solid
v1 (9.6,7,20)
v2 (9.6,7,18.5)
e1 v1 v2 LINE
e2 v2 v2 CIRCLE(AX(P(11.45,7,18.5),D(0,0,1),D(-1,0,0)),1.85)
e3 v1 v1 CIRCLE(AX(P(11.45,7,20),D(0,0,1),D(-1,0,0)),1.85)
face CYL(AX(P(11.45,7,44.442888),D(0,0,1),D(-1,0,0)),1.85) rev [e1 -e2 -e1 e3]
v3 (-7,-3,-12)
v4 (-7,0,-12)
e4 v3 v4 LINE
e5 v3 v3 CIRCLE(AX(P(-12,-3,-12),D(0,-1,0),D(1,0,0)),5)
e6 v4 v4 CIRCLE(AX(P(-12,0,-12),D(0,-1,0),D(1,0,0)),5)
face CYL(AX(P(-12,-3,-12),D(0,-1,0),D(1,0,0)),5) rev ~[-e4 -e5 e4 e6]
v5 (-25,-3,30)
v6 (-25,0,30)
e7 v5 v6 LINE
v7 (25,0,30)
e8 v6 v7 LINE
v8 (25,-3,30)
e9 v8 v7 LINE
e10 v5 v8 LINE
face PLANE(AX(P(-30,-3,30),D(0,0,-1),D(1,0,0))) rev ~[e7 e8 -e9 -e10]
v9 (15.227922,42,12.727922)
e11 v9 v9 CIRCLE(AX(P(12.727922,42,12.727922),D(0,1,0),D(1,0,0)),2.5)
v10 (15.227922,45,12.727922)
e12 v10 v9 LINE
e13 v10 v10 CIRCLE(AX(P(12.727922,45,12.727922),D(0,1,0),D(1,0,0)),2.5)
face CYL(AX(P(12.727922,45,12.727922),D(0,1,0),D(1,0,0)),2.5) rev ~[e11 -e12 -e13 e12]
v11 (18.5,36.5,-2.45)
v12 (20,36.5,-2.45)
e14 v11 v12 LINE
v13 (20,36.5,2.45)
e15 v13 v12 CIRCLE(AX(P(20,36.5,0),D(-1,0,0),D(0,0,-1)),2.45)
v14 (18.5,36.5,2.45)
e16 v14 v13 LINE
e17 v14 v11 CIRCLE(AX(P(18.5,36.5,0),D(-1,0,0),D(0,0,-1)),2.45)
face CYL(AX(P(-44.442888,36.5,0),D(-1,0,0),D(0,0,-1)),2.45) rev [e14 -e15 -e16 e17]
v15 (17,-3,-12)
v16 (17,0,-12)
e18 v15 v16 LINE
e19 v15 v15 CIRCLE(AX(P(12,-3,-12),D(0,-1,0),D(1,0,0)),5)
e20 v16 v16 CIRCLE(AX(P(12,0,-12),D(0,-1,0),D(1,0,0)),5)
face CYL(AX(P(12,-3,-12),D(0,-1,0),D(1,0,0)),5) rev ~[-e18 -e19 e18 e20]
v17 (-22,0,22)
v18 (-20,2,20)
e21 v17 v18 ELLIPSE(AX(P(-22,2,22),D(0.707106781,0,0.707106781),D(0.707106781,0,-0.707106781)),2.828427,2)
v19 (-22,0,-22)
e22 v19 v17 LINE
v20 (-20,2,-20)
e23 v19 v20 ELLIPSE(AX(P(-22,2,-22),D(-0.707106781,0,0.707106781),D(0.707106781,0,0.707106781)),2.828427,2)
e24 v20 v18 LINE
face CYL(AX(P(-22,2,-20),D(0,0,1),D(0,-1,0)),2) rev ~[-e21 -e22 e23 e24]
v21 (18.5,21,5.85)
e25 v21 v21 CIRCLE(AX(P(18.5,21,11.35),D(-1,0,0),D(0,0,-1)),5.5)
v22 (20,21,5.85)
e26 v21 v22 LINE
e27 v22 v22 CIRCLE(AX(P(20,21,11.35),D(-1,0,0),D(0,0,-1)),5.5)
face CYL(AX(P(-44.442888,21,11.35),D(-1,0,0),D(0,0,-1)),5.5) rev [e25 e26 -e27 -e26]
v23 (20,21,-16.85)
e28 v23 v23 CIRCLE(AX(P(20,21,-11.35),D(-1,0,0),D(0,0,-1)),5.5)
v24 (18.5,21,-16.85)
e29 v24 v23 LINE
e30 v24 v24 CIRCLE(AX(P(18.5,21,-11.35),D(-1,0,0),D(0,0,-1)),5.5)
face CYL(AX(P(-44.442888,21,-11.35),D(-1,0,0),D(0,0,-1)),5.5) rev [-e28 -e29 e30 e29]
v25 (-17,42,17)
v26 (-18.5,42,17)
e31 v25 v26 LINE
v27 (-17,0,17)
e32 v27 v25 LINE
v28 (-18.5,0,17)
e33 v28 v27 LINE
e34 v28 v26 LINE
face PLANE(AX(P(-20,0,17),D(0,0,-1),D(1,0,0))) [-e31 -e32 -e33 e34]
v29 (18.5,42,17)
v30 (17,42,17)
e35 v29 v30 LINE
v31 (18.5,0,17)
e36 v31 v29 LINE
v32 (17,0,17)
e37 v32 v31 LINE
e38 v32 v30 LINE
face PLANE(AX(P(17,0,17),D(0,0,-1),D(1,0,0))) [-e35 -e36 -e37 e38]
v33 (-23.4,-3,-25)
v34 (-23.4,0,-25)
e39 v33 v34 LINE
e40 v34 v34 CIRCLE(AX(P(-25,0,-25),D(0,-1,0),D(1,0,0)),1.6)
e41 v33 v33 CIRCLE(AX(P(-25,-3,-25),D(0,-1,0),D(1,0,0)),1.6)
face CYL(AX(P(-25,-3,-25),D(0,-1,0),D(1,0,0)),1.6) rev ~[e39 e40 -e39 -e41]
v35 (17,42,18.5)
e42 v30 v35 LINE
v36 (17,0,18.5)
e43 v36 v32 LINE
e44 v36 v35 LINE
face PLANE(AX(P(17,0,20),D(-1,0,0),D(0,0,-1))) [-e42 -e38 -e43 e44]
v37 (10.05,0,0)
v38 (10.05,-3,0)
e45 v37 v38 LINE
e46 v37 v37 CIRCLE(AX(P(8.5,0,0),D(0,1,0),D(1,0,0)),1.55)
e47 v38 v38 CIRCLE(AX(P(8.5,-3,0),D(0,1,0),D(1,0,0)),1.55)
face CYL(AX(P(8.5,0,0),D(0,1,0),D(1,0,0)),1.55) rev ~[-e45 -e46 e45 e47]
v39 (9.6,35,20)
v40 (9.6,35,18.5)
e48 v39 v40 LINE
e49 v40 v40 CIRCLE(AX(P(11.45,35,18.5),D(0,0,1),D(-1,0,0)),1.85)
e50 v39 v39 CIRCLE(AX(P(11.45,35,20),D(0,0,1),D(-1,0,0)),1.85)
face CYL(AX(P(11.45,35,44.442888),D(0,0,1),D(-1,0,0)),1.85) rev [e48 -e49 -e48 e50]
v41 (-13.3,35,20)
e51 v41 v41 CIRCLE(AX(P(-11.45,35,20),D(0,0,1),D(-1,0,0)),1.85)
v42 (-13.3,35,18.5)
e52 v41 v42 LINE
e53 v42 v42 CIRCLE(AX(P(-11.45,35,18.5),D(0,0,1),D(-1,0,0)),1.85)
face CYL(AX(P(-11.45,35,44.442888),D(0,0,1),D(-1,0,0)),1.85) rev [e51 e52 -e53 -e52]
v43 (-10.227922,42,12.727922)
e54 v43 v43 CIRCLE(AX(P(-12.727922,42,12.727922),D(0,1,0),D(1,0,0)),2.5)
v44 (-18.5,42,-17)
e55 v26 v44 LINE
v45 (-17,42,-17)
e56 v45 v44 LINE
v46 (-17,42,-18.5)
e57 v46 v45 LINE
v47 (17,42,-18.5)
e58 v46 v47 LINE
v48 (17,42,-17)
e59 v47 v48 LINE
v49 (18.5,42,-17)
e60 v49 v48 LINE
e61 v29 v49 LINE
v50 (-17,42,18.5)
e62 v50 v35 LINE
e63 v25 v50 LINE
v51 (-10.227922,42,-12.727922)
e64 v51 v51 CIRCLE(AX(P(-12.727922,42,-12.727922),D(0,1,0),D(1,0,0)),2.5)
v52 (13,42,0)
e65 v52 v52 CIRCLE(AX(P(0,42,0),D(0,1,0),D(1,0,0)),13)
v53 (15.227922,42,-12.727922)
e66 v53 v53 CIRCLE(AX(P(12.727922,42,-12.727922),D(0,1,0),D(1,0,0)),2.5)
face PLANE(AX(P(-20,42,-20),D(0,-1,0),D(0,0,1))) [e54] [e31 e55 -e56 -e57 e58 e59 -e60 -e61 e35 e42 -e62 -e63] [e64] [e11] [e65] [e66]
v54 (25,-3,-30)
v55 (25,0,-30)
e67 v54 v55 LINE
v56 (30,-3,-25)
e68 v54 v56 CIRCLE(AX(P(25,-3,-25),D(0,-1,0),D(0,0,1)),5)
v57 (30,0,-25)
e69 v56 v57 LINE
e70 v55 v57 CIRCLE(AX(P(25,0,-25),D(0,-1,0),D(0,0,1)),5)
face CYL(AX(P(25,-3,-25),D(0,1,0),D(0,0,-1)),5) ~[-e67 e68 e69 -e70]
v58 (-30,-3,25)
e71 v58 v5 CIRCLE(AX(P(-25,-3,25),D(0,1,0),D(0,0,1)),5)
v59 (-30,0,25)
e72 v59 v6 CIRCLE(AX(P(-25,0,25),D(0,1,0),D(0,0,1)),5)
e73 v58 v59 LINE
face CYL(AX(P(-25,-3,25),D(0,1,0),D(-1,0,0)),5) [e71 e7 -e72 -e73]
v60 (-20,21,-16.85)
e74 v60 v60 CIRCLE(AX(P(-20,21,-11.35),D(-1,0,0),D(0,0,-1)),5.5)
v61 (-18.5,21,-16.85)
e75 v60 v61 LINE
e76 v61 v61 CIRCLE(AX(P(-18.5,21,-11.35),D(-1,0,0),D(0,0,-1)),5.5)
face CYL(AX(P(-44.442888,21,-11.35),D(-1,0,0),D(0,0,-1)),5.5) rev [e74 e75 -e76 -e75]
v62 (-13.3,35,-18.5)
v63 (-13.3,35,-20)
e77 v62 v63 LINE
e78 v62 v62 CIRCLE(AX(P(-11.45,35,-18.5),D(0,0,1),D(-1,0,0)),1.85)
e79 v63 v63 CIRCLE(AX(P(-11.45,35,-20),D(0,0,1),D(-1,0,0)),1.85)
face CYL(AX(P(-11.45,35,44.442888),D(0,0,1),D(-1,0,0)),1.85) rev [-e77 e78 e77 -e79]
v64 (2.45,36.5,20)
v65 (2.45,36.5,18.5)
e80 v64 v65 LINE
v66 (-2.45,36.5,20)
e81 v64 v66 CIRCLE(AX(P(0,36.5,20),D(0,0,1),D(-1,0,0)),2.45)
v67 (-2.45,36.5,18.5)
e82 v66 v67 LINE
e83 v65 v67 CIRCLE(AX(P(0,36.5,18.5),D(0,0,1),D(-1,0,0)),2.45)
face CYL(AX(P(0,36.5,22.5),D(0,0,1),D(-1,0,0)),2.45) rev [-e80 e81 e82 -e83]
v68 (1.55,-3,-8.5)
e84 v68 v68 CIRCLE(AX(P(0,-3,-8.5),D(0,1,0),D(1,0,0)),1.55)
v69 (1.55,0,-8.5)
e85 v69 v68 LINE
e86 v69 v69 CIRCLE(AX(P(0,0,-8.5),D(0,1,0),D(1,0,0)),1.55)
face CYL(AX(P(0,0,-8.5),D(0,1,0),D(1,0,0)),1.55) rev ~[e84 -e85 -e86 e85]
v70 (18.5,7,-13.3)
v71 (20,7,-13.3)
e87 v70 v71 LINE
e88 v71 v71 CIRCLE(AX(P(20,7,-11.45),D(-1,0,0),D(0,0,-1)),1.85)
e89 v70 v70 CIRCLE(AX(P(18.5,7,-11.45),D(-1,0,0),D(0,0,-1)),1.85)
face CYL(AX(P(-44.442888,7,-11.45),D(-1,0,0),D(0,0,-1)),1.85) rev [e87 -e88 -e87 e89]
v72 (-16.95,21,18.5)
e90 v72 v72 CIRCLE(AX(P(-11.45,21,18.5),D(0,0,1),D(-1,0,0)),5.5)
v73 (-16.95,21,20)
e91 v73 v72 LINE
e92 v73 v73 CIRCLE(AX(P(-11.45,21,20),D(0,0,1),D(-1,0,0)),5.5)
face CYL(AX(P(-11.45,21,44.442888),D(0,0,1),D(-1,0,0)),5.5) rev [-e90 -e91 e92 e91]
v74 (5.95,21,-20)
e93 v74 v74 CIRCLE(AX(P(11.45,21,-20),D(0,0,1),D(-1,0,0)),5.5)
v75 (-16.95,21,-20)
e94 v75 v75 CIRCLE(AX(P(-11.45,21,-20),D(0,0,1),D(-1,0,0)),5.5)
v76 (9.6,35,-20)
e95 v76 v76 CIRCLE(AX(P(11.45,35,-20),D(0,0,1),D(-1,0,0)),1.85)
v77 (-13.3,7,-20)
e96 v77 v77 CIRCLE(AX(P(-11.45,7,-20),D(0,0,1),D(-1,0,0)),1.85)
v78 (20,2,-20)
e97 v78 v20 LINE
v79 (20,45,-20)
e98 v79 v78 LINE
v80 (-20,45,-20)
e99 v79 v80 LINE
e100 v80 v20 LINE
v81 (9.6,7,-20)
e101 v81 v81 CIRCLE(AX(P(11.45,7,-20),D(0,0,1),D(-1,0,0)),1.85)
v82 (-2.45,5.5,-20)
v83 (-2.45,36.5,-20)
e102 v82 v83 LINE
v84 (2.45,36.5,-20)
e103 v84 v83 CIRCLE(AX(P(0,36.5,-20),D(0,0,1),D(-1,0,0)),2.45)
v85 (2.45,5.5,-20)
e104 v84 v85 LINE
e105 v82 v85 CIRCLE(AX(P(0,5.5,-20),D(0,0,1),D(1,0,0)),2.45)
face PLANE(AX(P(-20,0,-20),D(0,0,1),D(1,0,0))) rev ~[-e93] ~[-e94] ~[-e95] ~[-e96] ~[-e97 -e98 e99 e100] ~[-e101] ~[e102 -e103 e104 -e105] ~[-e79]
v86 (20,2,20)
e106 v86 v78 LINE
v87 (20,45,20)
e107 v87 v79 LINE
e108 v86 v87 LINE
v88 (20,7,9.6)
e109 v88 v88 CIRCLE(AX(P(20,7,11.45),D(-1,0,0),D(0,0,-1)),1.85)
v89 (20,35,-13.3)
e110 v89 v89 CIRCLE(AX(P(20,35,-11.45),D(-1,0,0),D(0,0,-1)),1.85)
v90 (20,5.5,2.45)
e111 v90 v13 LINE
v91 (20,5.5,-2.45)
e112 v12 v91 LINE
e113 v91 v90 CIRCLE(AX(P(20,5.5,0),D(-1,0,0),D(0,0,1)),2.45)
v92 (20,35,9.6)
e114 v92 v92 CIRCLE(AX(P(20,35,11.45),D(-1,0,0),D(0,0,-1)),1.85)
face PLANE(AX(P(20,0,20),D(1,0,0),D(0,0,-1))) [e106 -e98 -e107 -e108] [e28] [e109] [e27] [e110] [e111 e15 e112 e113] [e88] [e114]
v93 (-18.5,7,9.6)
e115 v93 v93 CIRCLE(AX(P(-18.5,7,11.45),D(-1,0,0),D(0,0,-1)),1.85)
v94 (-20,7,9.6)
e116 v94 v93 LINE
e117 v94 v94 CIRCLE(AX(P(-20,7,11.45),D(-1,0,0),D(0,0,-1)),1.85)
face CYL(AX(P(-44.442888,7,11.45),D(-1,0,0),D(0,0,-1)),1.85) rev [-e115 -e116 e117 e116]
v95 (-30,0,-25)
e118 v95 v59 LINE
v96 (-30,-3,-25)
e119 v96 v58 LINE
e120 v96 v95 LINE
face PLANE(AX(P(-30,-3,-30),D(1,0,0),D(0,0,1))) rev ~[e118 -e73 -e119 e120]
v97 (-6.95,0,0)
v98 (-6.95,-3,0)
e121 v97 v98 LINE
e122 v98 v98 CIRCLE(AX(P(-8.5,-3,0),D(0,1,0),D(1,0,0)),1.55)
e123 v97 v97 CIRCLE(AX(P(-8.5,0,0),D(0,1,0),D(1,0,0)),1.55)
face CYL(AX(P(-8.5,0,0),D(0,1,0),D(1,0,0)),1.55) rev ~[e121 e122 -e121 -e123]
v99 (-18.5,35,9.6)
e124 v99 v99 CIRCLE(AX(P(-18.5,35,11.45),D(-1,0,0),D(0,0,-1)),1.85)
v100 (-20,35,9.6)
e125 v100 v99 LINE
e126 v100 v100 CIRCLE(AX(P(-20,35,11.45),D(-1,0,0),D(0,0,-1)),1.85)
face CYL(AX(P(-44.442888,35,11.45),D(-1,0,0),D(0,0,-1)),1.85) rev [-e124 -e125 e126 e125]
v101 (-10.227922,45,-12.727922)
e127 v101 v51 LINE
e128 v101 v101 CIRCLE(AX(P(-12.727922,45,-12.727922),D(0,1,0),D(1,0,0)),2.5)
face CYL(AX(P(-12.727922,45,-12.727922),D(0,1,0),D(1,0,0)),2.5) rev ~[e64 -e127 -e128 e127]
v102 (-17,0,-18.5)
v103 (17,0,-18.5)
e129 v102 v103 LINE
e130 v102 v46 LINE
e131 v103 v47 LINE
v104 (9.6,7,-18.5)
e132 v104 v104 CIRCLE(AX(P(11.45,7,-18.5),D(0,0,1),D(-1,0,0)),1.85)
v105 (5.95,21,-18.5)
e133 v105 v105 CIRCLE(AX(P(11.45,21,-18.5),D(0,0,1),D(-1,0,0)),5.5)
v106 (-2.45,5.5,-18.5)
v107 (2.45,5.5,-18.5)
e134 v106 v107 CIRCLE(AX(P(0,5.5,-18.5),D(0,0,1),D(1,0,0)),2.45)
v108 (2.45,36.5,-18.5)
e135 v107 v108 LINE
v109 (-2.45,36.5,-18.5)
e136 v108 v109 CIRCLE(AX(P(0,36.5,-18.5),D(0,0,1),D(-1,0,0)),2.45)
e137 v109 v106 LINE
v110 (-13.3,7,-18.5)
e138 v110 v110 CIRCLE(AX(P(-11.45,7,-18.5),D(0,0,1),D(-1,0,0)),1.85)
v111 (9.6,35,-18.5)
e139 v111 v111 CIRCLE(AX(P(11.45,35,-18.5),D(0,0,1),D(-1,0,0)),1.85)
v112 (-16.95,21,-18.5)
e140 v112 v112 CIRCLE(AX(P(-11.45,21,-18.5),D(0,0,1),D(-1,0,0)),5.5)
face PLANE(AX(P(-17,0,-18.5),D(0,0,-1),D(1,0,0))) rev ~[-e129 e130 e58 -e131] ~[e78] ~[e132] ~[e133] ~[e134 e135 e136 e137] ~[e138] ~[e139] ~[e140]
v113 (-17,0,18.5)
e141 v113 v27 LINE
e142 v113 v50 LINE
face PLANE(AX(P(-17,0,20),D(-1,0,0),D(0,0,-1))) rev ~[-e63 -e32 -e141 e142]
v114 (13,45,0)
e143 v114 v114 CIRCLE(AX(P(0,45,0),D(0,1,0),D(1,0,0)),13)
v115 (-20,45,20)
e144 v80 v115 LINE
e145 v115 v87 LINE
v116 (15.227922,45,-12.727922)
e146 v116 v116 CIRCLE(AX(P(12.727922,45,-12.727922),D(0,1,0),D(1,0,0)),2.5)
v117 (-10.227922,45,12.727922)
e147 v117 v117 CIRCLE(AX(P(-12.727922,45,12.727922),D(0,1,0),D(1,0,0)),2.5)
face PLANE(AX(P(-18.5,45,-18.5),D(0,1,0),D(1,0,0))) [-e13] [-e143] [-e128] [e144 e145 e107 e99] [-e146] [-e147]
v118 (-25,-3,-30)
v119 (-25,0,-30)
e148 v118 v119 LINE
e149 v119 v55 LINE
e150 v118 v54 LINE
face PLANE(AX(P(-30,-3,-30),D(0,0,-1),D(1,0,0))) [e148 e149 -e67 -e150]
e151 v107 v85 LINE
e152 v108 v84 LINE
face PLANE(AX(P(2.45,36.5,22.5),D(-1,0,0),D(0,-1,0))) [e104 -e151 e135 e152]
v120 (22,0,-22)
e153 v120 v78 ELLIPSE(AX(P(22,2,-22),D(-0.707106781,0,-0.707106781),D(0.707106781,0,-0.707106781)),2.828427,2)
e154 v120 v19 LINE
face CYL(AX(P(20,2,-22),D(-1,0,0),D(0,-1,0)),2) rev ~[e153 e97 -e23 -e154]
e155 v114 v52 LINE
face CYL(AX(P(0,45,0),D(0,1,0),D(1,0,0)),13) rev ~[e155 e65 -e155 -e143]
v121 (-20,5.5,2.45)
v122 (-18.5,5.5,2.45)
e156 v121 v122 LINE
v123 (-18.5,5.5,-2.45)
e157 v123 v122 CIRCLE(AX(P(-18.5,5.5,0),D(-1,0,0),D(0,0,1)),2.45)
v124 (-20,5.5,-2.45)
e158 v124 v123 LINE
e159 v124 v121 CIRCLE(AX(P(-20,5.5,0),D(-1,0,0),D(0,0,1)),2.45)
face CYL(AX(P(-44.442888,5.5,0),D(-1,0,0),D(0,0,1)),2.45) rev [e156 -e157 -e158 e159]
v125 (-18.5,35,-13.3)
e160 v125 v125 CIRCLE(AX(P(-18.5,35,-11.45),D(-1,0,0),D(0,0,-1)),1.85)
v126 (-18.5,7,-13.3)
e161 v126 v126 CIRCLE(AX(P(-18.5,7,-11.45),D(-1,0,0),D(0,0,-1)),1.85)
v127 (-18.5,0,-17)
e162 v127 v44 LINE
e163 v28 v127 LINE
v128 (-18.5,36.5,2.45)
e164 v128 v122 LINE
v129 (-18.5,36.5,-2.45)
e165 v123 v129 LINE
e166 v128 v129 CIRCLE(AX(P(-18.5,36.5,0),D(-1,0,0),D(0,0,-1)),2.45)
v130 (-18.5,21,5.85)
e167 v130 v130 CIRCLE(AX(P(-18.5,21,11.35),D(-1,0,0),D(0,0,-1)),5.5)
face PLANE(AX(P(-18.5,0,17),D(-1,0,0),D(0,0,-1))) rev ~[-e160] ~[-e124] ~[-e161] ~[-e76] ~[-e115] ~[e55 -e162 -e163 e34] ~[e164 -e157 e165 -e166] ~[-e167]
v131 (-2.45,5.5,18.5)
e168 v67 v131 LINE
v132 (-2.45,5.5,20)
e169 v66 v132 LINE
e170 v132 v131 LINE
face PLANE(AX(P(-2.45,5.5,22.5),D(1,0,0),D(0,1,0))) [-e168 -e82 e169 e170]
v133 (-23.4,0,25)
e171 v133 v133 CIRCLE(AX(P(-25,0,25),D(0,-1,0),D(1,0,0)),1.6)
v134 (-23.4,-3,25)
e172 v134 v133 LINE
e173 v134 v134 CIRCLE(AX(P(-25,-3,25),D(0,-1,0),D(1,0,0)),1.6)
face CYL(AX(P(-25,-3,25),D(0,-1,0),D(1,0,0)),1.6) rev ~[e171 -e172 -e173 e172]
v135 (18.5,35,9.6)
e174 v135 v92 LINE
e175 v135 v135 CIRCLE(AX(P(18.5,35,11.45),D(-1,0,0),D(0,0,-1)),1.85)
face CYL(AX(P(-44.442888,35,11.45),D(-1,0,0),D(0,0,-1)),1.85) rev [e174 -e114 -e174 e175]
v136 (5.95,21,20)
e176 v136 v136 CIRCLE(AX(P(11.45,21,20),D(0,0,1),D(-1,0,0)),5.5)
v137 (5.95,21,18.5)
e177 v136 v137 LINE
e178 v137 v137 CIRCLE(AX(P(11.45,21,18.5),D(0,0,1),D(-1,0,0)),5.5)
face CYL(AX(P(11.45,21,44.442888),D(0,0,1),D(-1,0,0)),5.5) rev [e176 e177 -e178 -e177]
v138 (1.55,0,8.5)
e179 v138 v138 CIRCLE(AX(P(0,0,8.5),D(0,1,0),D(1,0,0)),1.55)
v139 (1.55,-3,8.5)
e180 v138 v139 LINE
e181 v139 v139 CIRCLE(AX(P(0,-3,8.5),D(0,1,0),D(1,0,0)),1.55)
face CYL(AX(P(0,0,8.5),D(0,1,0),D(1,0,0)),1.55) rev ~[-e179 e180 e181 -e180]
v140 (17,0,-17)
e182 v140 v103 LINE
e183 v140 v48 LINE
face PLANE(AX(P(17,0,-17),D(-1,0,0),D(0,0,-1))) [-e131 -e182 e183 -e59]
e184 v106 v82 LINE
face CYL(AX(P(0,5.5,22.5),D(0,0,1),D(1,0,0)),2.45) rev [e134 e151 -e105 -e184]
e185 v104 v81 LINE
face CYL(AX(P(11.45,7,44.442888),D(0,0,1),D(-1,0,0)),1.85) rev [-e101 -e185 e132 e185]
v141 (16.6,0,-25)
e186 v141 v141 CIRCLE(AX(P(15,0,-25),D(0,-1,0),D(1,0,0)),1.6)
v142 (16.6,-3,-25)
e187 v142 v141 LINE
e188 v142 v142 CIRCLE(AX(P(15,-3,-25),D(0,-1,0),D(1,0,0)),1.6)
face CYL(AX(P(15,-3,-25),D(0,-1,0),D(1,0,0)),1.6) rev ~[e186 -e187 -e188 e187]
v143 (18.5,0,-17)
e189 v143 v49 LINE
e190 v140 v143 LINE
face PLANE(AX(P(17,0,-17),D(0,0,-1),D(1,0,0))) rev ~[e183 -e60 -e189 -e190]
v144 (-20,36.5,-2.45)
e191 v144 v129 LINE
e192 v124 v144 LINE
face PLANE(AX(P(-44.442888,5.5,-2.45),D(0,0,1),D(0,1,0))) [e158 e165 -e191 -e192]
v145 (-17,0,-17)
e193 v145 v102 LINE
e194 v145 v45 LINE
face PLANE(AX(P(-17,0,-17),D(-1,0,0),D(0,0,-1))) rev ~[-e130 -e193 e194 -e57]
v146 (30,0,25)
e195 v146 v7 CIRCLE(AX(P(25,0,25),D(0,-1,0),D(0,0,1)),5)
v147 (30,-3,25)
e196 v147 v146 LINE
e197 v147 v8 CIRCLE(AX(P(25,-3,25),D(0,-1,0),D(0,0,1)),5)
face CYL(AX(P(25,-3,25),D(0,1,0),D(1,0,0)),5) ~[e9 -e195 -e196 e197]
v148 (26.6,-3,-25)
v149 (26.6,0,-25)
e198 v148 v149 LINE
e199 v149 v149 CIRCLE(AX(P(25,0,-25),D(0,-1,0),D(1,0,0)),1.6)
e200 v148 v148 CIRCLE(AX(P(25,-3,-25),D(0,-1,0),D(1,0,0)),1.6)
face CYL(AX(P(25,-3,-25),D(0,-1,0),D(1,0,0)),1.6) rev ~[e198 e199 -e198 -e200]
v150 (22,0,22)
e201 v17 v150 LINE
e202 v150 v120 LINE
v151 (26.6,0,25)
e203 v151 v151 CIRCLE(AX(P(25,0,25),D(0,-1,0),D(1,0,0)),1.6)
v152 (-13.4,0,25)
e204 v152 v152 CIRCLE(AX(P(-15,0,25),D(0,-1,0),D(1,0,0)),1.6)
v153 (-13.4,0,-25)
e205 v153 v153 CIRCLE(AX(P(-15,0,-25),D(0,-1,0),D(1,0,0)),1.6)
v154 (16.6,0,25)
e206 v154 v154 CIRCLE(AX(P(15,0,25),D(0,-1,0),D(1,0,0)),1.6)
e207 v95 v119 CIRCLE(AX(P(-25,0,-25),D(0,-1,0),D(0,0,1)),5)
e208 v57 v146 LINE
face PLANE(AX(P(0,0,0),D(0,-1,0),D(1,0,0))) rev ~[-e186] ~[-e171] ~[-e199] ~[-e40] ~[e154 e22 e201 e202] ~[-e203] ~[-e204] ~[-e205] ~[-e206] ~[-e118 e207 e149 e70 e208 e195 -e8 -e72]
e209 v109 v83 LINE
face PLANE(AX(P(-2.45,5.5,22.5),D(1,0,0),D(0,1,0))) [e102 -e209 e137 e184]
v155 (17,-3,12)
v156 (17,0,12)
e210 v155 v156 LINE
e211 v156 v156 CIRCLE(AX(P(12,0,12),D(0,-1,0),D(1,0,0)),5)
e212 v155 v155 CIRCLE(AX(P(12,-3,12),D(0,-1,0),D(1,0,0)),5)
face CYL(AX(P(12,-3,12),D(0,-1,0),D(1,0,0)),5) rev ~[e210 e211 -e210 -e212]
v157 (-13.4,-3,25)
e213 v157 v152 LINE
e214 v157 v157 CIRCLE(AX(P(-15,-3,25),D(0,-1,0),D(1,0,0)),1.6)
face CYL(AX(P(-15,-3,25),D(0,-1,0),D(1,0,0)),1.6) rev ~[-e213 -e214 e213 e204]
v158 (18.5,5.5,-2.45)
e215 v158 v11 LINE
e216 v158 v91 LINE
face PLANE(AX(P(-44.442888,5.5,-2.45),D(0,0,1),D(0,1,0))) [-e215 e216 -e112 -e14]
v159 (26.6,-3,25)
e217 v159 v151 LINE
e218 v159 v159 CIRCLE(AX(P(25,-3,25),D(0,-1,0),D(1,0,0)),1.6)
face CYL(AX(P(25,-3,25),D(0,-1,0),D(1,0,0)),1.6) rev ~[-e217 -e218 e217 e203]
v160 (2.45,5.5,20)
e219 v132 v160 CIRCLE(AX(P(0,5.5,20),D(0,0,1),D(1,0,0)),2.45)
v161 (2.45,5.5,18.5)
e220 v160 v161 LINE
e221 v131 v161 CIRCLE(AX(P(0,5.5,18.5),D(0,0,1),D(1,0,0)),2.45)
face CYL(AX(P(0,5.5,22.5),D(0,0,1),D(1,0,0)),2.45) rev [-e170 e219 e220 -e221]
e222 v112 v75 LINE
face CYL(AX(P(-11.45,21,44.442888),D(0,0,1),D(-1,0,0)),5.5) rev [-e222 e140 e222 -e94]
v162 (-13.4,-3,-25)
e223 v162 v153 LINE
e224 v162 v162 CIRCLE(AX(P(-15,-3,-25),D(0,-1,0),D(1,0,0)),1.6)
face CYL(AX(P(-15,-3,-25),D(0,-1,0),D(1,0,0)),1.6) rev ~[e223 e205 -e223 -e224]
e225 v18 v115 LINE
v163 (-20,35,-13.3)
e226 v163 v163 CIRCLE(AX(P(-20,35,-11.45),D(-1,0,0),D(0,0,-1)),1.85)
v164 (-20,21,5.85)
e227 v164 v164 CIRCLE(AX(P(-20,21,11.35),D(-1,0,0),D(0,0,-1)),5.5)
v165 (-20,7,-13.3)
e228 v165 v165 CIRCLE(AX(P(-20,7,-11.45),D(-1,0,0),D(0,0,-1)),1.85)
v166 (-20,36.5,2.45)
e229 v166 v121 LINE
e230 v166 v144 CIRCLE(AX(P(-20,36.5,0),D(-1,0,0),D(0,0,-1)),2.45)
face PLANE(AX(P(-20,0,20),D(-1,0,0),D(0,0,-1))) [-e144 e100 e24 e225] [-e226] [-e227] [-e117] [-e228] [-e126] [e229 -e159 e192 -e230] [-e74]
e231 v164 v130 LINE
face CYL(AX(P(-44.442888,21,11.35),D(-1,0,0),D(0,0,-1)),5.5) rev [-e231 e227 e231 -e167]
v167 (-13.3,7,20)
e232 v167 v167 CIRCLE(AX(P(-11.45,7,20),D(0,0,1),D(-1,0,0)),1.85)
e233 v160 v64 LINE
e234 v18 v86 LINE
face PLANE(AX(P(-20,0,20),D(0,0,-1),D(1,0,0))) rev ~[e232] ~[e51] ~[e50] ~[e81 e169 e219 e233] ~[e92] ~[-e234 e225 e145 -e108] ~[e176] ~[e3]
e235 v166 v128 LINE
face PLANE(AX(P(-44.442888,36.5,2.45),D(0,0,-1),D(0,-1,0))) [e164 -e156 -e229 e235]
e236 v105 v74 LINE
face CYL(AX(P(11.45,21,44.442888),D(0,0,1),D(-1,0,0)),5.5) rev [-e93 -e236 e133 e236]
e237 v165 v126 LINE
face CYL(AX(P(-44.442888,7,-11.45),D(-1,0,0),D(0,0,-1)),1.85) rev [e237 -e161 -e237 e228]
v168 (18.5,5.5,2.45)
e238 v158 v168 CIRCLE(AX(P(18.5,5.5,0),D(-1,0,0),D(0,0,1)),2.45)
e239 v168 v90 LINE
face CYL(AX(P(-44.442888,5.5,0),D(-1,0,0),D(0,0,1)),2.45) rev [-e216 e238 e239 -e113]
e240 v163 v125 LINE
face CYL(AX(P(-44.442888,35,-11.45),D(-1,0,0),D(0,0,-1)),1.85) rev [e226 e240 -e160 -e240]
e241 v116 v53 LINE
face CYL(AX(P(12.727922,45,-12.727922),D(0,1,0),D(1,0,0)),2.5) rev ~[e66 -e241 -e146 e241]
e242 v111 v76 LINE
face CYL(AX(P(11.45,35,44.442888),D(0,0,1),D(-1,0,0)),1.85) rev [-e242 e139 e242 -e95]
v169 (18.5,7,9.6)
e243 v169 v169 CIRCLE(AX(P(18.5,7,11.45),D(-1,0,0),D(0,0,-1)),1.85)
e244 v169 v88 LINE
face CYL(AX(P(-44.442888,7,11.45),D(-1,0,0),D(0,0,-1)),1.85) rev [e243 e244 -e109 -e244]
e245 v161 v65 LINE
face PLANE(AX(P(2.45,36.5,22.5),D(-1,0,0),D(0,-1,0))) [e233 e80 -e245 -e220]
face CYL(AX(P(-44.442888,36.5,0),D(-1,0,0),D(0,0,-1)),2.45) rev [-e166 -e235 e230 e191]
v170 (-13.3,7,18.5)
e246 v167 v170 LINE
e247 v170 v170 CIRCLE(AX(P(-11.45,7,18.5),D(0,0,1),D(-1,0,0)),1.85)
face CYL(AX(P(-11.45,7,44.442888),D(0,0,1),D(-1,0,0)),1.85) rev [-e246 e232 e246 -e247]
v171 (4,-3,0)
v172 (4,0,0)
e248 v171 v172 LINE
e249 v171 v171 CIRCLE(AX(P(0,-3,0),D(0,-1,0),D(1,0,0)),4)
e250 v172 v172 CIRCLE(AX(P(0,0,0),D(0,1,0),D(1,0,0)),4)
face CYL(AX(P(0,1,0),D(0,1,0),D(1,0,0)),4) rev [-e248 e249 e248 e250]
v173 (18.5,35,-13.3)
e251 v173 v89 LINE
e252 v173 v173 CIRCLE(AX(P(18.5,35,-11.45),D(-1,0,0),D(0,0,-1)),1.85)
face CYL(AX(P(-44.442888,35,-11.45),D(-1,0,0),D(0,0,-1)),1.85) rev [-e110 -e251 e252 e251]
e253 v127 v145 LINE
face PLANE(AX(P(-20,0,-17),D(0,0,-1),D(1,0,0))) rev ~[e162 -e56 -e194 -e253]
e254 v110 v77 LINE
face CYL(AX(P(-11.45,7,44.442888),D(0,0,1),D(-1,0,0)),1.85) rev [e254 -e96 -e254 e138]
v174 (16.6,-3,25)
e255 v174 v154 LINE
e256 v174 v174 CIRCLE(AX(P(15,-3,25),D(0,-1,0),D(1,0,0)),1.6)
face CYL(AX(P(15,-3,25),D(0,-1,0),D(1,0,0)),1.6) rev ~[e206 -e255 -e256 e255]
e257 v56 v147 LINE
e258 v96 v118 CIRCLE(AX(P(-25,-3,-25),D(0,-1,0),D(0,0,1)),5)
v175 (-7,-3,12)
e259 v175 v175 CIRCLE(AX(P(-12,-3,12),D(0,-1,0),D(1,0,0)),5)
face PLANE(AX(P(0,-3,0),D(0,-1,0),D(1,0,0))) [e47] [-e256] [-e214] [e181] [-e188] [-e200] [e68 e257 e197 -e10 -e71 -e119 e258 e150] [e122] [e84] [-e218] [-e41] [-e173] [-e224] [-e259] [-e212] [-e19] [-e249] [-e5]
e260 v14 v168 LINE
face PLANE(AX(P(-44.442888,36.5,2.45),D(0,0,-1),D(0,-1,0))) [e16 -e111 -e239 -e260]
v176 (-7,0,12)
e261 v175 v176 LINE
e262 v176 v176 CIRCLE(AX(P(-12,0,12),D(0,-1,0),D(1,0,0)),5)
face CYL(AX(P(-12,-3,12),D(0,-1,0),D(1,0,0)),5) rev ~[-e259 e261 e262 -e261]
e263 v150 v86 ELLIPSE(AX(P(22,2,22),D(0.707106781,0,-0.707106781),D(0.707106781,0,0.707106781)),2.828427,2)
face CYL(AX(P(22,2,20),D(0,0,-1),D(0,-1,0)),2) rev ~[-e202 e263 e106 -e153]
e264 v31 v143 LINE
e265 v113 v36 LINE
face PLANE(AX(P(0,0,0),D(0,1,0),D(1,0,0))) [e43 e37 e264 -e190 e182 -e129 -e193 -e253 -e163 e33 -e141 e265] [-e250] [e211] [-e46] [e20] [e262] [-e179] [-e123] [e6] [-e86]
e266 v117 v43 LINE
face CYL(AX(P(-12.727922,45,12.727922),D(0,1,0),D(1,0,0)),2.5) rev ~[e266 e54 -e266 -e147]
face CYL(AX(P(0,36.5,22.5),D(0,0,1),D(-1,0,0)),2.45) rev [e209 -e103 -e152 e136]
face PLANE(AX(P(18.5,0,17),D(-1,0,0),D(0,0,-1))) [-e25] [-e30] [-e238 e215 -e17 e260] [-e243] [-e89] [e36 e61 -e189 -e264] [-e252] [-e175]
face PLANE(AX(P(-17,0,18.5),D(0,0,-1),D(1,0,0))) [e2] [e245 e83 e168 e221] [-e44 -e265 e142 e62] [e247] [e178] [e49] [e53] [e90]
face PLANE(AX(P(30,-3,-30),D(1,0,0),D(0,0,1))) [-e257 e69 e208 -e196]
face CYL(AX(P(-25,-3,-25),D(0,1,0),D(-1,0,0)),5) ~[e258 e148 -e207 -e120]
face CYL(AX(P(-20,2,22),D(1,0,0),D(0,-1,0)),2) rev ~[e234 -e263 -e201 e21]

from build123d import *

# Parameters (mm, degrees)
SKETCH_1_W                = 40
SKETCH_1_H                = 40
SKETCH_1_R                = 1.55
EXTRUDE_2_DEPTH           = 3
SKETCH_1_6_R              = 4
CUT_EXTRUDE_1_DEPTH       = 1.5
SKETCH_2_W                = 3
SKETCH_2_H                = 3
EXTRUDE_7_DEPTH           = 45
SKETCH_5_W                = 40
SKETCH_5_H                = 3
EXTRUDE_8_DEPTH           = 40
CUT_EXTRUDE_2_DEPTH       = 4
CUT_EXTRUDE_START         = -4
SKETCH_7_R                = 4
CUT_EXTRUDE_3_DEPTH       = 4
SKETCH_8_R                = 5
CUT_EXTRUDE_4_DEPTH       = 4
SKETCH_9_R                = 2.5
CUT_EXTRUDE_5_DEPTH       = 4
SKETCH_10_W               = 1.5
SKETCH_10_H               = 34
SKETCH_10_W_2             = 34
SKETCH_10_H_2             = 1.5
EXTRUDE_10_DEPTH          = 45
CUT_EXTRUDE_12_DEPTH      = 63.507999488
CUT_EXTRUDE_12_DEPTH_BACK = 4
CUT_EXTRUDE_13_DEPTH      = 4
CUT_EXTRUDE_13_DEPTH_BACK = 64.442887702
CUT_EXTRUDE_15_DEPTH      = 10
CUT_EXTRUDE_15_DEPTH_BACK = 64.442887702
SKETCH_24_5_R             = 1.85
SKETCH_24_5_R_2           = 5.5
CUT_EXTRUDE_16_DEPTH      = 10
CUT_EXTRUDE_16_DEPTH_BACK = 64.442887702
SKETCH_25_R               = 5.5
SKETCH_25_R_2             = 1.85
SKETCH_27_W               = 60
SKETCH_27_H               = 60
SKETCH_27_R               = 1.6
EXTRUDE_13_DEPTH          = 3
FILLET_1_R                = 2
FILLET_2_R                = 5
SKETCH_28_R               = 13
CUT_EXTRUDE_17_DEPTH      = 10


with BuildPart() as part:
    # 草图1 → 凸台-拉伸2 (new body)
    with BuildSketch(Plane(origin=(0, 0, 0), x_dir=(1, 0, 0), z_dir=(0, 1, 0))):
        Rectangle(SKETCH_1_W, SKETCH_1_H)
        with Locations((0, 8.5)):
            Circle(SKETCH_1_R, mode=Mode.SUBTRACT)
        with Locations((8.5, 0)):
            Circle(SKETCH_1_R, mode=Mode.SUBTRACT)
        with Locations((0, -8.5)):
            Circle(SKETCH_1_R, mode=Mode.SUBTRACT)
        with Locations((-8.5, 0)):
            Circle(SKETCH_1_R, mode=Mode.SUBTRACT)
    extrude(amount=-EXTRUDE_2_DEPTH)

    # 草图1<6> → 切除-拉伸1 (cut)
    with BuildSketch(Plane(origin=(0, 0, 0), x_dir=(1, 0, 0), z_dir=(0, 1, 0))):
        Circle(SKETCH_1_6_R)
    extrude(amount=-CUT_EXTRUDE_1_DEPTH, mode=Mode.SUBTRACT)

    # 草图2 → 凸台-拉伸7 (add)
    with BuildSketch(Plane(origin=(0, 0, 0), x_dir=(1, 0, 0), z_dir=(0, 1, 0))):
        with Locations((-18.5, -18.5)):
            Rectangle(SKETCH_2_W, SKETCH_2_H)
        with Locations((18.5, -18.5)):
            Rectangle(SKETCH_2_W, SKETCH_2_H)
        with Locations((-18.5, 18.5)):
            Rectangle(SKETCH_2_W, SKETCH_2_H)
        with Locations((18.5, 18.5)):
            Rectangle(SKETCH_2_W, SKETCH_2_H)
    extrude(amount=EXTRUDE_7_DEPTH)

    # 草图5 → 凸台-拉伸8 (add)
    with BuildSketch(Plane.ZY.offset(20)):
        with Locations((0, 43.5)):
            Rectangle(SKETCH_5_W, SKETCH_5_H)
    extrude(amount=-EXTRUDE_8_DEPTH)

    # 草图6 → 切除-拉伸2 (cut)
    with BuildSketch(Plane(origin=(0, 45, 0), x_dir=(1, 0, 0), z_dir=(0, 1, 0))):
        with BuildLine():
            ThreePointArc((12.5, 0), (-8.838834765, 8.838834765), (0, -12.5))
            ThreePointArc((0, -12.5), (8.838834765, -8.838834765), (12.5, 0))
        make_face()
    extrude(amount=-CUT_EXTRUDE_2_DEPTH, mode=Mode.SUBTRACT)

    # 草图7 → 切除-拉伸3 (cut)
    with BuildSketch(Plane.XZ.offset(3).offset(CUT_EXTRUDE_START)):
        Circle(SKETCH_7_R)
    extrude(amount=CUT_EXTRUDE_3_DEPTH, mode=Mode.SUBTRACT)

    # 草图8 → 切除-拉伸4 (cut)
    with BuildSketch(Plane.XZ.offset(3)):
        with Locations((-12, 12)):
            Circle(SKETCH_8_R)
        with Locations((12, 12)):
            Circle(SKETCH_8_R)
        with Locations((12, -12)):
            Circle(SKETCH_8_R)
        with Locations((-12, -12)):
            Circle(SKETCH_8_R)
    extrude(amount=-CUT_EXTRUDE_4_DEPTH, mode=Mode.SUBTRACT)

    # 草图9 → 切除-拉伸5 (cut)
    with BuildSketch(Plane(origin=(0, 45, 0), x_dir=(1, 0, 0), z_dir=(0, 1, 0))):
        with Locations((-12.727922061, 12.727922061)):
            Circle(SKETCH_9_R)
        with Locations((12.727922061, 12.727922061)):
            Circle(SKETCH_9_R)
        with Locations((12.727922061, -12.727922061)):
            Circle(SKETCH_9_R)
        with Locations((-12.727922061, -12.727922061)):
            Circle(SKETCH_9_R)
    extrude(amount=-CUT_EXTRUDE_5_DEPTH, mode=Mode.SUBTRACT)

    # 草图10 → 凸台-拉伸10 (add)
    with BuildSketch(Plane(origin=(0, 0, 0), x_dir=(1, 0, 0), z_dir=(0, 1, 0))):
        with Locations((19.25, 0)):
            Rectangle(SKETCH_10_W, SKETCH_10_H)
        with Locations((0, -19.25)):
            Rectangle(SKETCH_10_W_2, SKETCH_10_H_2)
        with Locations((-19.25, 0)):
            Rectangle(SKETCH_10_W, SKETCH_10_H)
        with Locations((0, 19.25)):
            Rectangle(SKETCH_10_W_2, SKETCH_10_H_2)
    extrude(amount=EXTRUDE_10_DEPTH)

    # 草图20 → 切除-拉伸12 (cut, two sides: drawn at the far end of the back side and taken through both)
    with BuildSketch(Plane(origin=(0, 0, 18.5), x_dir=(-1, 0, 0), z_dir=(0, 0, -1)).offset(-CUT_EXTRUDE_12_DEPTH_BACK)):
        with BuildLine():
            Line((-2.45, 36.5), (-2.45, 5.5))
            ThreePointArc((-2.45, 5.5), (0, 3.05), (2.45, 5.5))
            Line((2.45, 5.5), (2.45, 36.5))
            ThreePointArc((2.45, 36.5), (0, 38.95), (-2.45, 36.5))
        make_face()
    extrude(amount=CUT_EXTRUDE_12_DEPTH + CUT_EXTRUDE_12_DEPTH_BACK, mode=Mode.SUBTRACT)

    # 草图24 → 切除-拉伸13 (cut, two sides: drawn at the far end of the back side and taken through both)
    with BuildSketch(Plane(origin=(20, 0, 0), x_dir=(0, 0, -1), z_dir=(1, 0, 0)).offset(-CUT_EXTRUDE_13_DEPTH_BACK)):
        with BuildLine():
            Line((-2.45, 36.5), (-2.45, 5.5))
            ThreePointArc((-2.45, 5.5), (0, 3.05), (2.45, 5.5))
            Line((2.45, 5.5), (2.45, 36.5))
            ThreePointArc((2.45, 36.5), (0, 38.95), (-2.45, 36.5))
        make_face()
    extrude(amount=CUT_EXTRUDE_13_DEPTH + CUT_EXTRUDE_13_DEPTH_BACK, mode=Mode.SUBTRACT)

    # 草图24<5> → 切除-拉伸15 (cut, two sides: drawn at the far end of the back side and taken through both)
    with BuildSketch(Plane(origin=(20, 0, 0), x_dir=(0, 0, -1), z_dir=(1, 0, 0)).offset(-CUT_EXTRUDE_15_DEPTH_BACK)):
        with Locations((-11.45, 35)):
            Circle(SKETCH_24_5_R)
        with Locations((-11.45, 7)):
            Circle(SKETCH_24_5_R)
        with Locations((11.45, 7)):
            Circle(SKETCH_24_5_R)
        with Locations((11.45, 35)):
            Circle(SKETCH_24_5_R)
        with Locations((-11.35, 21)):
            Circle(SKETCH_24_5_R_2)
        with Locations((11.35, 21)):
            Circle(SKETCH_24_5_R_2)
    extrude(amount=CUT_EXTRUDE_15_DEPTH + CUT_EXTRUDE_15_DEPTH_BACK, mode=Mode.SUBTRACT)

    # 草图25 → 切除-拉伸16 (cut, two sides: drawn at the far end of the back side and taken through both)
    with BuildSketch(Plane(origin=(0, 0, -20), x_dir=(-1, 0, 0), z_dir=(0, 0, -1)).offset(-CUT_EXTRUDE_16_DEPTH_BACK)):
        with Locations((-11.45, 21)):
            Circle(SKETCH_25_R)
        with Locations((-11.45, 35)):
            Circle(SKETCH_25_R_2)
        with Locations((11.45, 35)):
            Circle(SKETCH_25_R_2)
        with Locations((11.45, 7)):
            Circle(SKETCH_25_R_2)
        with Locations((-11.45, 7)):
            Circle(SKETCH_25_R_2)
        with Locations((11.45, 21)):
            Circle(SKETCH_25_R)
    extrude(amount=CUT_EXTRUDE_16_DEPTH + CUT_EXTRUDE_16_DEPTH_BACK, mode=Mode.SUBTRACT)

    # 草图27 → 凸台-拉伸13 (add)
    with BuildSketch(Plane.XZ.offset(3)):
        Rectangle(SKETCH_27_W, SKETCH_27_H)
        with Locations((-15, -25)):
            Circle(SKETCH_27_R, mode=Mode.SUBTRACT)
        with Locations((15, -25)):
            Circle(SKETCH_27_R, mode=Mode.SUBTRACT)
        with Locations((25, -25)):
            Circle(SKETCH_27_R, mode=Mode.SUBTRACT)
        with Locations((25, 25)):
            Circle(SKETCH_27_R, mode=Mode.SUBTRACT)
        with Locations((15, 25)):
            Circle(SKETCH_27_R, mode=Mode.SUBTRACT)
        with Locations((-15, 25)):
            Circle(SKETCH_27_R, mode=Mode.SUBTRACT)
        with Locations((-25, 25)):
            Circle(SKETCH_27_R, mode=Mode.SUBTRACT)
        with Locations((-25, -25)):
            Circle(SKETCH_27_R, mode=Mode.SUBTRACT)
        Polygon((-10, 20), (20, 20), (20, -20), (-20, -20), (-20, 20), align=None, mode=Mode.SUBTRACT)
    extrude(amount=-EXTRUDE_13_DEPTH)

    # 圆角1
    fillet_1_edges = [part.edges().sort_by_distance(p)[0] for p in [
        (0, 0, 20),
        (-20, 0, 0),
        (20, 0, 0),
        (0, 0, -20),
    ]]
    fillet(fillet_1_edges, radius=FILLET_1_R)

    # 圆角2
    fillet_2_edges = [part.edges().sort_by_distance(p)[0] for p in [
        (-30, -1.5, 30),
        (30, -1.5, 30),
        (30, -1.5, -30),
        (-30, -1.5, -30),
    ]]
    fillet(fillet_2_edges, radius=FILLET_2_R)

    # 草图28 → 切除-拉伸17 (cut)
    with BuildSketch(Plane(origin=(0, 45, 0), x_dir=(1, 0, 0), z_dir=(0, 1, 0))):
        Circle(SKETCH_28_R)
    extrude(amount=-CUT_EXTRUDE_17_DEPTH, mode=Mode.SUBTRACT)


solid = part.part
